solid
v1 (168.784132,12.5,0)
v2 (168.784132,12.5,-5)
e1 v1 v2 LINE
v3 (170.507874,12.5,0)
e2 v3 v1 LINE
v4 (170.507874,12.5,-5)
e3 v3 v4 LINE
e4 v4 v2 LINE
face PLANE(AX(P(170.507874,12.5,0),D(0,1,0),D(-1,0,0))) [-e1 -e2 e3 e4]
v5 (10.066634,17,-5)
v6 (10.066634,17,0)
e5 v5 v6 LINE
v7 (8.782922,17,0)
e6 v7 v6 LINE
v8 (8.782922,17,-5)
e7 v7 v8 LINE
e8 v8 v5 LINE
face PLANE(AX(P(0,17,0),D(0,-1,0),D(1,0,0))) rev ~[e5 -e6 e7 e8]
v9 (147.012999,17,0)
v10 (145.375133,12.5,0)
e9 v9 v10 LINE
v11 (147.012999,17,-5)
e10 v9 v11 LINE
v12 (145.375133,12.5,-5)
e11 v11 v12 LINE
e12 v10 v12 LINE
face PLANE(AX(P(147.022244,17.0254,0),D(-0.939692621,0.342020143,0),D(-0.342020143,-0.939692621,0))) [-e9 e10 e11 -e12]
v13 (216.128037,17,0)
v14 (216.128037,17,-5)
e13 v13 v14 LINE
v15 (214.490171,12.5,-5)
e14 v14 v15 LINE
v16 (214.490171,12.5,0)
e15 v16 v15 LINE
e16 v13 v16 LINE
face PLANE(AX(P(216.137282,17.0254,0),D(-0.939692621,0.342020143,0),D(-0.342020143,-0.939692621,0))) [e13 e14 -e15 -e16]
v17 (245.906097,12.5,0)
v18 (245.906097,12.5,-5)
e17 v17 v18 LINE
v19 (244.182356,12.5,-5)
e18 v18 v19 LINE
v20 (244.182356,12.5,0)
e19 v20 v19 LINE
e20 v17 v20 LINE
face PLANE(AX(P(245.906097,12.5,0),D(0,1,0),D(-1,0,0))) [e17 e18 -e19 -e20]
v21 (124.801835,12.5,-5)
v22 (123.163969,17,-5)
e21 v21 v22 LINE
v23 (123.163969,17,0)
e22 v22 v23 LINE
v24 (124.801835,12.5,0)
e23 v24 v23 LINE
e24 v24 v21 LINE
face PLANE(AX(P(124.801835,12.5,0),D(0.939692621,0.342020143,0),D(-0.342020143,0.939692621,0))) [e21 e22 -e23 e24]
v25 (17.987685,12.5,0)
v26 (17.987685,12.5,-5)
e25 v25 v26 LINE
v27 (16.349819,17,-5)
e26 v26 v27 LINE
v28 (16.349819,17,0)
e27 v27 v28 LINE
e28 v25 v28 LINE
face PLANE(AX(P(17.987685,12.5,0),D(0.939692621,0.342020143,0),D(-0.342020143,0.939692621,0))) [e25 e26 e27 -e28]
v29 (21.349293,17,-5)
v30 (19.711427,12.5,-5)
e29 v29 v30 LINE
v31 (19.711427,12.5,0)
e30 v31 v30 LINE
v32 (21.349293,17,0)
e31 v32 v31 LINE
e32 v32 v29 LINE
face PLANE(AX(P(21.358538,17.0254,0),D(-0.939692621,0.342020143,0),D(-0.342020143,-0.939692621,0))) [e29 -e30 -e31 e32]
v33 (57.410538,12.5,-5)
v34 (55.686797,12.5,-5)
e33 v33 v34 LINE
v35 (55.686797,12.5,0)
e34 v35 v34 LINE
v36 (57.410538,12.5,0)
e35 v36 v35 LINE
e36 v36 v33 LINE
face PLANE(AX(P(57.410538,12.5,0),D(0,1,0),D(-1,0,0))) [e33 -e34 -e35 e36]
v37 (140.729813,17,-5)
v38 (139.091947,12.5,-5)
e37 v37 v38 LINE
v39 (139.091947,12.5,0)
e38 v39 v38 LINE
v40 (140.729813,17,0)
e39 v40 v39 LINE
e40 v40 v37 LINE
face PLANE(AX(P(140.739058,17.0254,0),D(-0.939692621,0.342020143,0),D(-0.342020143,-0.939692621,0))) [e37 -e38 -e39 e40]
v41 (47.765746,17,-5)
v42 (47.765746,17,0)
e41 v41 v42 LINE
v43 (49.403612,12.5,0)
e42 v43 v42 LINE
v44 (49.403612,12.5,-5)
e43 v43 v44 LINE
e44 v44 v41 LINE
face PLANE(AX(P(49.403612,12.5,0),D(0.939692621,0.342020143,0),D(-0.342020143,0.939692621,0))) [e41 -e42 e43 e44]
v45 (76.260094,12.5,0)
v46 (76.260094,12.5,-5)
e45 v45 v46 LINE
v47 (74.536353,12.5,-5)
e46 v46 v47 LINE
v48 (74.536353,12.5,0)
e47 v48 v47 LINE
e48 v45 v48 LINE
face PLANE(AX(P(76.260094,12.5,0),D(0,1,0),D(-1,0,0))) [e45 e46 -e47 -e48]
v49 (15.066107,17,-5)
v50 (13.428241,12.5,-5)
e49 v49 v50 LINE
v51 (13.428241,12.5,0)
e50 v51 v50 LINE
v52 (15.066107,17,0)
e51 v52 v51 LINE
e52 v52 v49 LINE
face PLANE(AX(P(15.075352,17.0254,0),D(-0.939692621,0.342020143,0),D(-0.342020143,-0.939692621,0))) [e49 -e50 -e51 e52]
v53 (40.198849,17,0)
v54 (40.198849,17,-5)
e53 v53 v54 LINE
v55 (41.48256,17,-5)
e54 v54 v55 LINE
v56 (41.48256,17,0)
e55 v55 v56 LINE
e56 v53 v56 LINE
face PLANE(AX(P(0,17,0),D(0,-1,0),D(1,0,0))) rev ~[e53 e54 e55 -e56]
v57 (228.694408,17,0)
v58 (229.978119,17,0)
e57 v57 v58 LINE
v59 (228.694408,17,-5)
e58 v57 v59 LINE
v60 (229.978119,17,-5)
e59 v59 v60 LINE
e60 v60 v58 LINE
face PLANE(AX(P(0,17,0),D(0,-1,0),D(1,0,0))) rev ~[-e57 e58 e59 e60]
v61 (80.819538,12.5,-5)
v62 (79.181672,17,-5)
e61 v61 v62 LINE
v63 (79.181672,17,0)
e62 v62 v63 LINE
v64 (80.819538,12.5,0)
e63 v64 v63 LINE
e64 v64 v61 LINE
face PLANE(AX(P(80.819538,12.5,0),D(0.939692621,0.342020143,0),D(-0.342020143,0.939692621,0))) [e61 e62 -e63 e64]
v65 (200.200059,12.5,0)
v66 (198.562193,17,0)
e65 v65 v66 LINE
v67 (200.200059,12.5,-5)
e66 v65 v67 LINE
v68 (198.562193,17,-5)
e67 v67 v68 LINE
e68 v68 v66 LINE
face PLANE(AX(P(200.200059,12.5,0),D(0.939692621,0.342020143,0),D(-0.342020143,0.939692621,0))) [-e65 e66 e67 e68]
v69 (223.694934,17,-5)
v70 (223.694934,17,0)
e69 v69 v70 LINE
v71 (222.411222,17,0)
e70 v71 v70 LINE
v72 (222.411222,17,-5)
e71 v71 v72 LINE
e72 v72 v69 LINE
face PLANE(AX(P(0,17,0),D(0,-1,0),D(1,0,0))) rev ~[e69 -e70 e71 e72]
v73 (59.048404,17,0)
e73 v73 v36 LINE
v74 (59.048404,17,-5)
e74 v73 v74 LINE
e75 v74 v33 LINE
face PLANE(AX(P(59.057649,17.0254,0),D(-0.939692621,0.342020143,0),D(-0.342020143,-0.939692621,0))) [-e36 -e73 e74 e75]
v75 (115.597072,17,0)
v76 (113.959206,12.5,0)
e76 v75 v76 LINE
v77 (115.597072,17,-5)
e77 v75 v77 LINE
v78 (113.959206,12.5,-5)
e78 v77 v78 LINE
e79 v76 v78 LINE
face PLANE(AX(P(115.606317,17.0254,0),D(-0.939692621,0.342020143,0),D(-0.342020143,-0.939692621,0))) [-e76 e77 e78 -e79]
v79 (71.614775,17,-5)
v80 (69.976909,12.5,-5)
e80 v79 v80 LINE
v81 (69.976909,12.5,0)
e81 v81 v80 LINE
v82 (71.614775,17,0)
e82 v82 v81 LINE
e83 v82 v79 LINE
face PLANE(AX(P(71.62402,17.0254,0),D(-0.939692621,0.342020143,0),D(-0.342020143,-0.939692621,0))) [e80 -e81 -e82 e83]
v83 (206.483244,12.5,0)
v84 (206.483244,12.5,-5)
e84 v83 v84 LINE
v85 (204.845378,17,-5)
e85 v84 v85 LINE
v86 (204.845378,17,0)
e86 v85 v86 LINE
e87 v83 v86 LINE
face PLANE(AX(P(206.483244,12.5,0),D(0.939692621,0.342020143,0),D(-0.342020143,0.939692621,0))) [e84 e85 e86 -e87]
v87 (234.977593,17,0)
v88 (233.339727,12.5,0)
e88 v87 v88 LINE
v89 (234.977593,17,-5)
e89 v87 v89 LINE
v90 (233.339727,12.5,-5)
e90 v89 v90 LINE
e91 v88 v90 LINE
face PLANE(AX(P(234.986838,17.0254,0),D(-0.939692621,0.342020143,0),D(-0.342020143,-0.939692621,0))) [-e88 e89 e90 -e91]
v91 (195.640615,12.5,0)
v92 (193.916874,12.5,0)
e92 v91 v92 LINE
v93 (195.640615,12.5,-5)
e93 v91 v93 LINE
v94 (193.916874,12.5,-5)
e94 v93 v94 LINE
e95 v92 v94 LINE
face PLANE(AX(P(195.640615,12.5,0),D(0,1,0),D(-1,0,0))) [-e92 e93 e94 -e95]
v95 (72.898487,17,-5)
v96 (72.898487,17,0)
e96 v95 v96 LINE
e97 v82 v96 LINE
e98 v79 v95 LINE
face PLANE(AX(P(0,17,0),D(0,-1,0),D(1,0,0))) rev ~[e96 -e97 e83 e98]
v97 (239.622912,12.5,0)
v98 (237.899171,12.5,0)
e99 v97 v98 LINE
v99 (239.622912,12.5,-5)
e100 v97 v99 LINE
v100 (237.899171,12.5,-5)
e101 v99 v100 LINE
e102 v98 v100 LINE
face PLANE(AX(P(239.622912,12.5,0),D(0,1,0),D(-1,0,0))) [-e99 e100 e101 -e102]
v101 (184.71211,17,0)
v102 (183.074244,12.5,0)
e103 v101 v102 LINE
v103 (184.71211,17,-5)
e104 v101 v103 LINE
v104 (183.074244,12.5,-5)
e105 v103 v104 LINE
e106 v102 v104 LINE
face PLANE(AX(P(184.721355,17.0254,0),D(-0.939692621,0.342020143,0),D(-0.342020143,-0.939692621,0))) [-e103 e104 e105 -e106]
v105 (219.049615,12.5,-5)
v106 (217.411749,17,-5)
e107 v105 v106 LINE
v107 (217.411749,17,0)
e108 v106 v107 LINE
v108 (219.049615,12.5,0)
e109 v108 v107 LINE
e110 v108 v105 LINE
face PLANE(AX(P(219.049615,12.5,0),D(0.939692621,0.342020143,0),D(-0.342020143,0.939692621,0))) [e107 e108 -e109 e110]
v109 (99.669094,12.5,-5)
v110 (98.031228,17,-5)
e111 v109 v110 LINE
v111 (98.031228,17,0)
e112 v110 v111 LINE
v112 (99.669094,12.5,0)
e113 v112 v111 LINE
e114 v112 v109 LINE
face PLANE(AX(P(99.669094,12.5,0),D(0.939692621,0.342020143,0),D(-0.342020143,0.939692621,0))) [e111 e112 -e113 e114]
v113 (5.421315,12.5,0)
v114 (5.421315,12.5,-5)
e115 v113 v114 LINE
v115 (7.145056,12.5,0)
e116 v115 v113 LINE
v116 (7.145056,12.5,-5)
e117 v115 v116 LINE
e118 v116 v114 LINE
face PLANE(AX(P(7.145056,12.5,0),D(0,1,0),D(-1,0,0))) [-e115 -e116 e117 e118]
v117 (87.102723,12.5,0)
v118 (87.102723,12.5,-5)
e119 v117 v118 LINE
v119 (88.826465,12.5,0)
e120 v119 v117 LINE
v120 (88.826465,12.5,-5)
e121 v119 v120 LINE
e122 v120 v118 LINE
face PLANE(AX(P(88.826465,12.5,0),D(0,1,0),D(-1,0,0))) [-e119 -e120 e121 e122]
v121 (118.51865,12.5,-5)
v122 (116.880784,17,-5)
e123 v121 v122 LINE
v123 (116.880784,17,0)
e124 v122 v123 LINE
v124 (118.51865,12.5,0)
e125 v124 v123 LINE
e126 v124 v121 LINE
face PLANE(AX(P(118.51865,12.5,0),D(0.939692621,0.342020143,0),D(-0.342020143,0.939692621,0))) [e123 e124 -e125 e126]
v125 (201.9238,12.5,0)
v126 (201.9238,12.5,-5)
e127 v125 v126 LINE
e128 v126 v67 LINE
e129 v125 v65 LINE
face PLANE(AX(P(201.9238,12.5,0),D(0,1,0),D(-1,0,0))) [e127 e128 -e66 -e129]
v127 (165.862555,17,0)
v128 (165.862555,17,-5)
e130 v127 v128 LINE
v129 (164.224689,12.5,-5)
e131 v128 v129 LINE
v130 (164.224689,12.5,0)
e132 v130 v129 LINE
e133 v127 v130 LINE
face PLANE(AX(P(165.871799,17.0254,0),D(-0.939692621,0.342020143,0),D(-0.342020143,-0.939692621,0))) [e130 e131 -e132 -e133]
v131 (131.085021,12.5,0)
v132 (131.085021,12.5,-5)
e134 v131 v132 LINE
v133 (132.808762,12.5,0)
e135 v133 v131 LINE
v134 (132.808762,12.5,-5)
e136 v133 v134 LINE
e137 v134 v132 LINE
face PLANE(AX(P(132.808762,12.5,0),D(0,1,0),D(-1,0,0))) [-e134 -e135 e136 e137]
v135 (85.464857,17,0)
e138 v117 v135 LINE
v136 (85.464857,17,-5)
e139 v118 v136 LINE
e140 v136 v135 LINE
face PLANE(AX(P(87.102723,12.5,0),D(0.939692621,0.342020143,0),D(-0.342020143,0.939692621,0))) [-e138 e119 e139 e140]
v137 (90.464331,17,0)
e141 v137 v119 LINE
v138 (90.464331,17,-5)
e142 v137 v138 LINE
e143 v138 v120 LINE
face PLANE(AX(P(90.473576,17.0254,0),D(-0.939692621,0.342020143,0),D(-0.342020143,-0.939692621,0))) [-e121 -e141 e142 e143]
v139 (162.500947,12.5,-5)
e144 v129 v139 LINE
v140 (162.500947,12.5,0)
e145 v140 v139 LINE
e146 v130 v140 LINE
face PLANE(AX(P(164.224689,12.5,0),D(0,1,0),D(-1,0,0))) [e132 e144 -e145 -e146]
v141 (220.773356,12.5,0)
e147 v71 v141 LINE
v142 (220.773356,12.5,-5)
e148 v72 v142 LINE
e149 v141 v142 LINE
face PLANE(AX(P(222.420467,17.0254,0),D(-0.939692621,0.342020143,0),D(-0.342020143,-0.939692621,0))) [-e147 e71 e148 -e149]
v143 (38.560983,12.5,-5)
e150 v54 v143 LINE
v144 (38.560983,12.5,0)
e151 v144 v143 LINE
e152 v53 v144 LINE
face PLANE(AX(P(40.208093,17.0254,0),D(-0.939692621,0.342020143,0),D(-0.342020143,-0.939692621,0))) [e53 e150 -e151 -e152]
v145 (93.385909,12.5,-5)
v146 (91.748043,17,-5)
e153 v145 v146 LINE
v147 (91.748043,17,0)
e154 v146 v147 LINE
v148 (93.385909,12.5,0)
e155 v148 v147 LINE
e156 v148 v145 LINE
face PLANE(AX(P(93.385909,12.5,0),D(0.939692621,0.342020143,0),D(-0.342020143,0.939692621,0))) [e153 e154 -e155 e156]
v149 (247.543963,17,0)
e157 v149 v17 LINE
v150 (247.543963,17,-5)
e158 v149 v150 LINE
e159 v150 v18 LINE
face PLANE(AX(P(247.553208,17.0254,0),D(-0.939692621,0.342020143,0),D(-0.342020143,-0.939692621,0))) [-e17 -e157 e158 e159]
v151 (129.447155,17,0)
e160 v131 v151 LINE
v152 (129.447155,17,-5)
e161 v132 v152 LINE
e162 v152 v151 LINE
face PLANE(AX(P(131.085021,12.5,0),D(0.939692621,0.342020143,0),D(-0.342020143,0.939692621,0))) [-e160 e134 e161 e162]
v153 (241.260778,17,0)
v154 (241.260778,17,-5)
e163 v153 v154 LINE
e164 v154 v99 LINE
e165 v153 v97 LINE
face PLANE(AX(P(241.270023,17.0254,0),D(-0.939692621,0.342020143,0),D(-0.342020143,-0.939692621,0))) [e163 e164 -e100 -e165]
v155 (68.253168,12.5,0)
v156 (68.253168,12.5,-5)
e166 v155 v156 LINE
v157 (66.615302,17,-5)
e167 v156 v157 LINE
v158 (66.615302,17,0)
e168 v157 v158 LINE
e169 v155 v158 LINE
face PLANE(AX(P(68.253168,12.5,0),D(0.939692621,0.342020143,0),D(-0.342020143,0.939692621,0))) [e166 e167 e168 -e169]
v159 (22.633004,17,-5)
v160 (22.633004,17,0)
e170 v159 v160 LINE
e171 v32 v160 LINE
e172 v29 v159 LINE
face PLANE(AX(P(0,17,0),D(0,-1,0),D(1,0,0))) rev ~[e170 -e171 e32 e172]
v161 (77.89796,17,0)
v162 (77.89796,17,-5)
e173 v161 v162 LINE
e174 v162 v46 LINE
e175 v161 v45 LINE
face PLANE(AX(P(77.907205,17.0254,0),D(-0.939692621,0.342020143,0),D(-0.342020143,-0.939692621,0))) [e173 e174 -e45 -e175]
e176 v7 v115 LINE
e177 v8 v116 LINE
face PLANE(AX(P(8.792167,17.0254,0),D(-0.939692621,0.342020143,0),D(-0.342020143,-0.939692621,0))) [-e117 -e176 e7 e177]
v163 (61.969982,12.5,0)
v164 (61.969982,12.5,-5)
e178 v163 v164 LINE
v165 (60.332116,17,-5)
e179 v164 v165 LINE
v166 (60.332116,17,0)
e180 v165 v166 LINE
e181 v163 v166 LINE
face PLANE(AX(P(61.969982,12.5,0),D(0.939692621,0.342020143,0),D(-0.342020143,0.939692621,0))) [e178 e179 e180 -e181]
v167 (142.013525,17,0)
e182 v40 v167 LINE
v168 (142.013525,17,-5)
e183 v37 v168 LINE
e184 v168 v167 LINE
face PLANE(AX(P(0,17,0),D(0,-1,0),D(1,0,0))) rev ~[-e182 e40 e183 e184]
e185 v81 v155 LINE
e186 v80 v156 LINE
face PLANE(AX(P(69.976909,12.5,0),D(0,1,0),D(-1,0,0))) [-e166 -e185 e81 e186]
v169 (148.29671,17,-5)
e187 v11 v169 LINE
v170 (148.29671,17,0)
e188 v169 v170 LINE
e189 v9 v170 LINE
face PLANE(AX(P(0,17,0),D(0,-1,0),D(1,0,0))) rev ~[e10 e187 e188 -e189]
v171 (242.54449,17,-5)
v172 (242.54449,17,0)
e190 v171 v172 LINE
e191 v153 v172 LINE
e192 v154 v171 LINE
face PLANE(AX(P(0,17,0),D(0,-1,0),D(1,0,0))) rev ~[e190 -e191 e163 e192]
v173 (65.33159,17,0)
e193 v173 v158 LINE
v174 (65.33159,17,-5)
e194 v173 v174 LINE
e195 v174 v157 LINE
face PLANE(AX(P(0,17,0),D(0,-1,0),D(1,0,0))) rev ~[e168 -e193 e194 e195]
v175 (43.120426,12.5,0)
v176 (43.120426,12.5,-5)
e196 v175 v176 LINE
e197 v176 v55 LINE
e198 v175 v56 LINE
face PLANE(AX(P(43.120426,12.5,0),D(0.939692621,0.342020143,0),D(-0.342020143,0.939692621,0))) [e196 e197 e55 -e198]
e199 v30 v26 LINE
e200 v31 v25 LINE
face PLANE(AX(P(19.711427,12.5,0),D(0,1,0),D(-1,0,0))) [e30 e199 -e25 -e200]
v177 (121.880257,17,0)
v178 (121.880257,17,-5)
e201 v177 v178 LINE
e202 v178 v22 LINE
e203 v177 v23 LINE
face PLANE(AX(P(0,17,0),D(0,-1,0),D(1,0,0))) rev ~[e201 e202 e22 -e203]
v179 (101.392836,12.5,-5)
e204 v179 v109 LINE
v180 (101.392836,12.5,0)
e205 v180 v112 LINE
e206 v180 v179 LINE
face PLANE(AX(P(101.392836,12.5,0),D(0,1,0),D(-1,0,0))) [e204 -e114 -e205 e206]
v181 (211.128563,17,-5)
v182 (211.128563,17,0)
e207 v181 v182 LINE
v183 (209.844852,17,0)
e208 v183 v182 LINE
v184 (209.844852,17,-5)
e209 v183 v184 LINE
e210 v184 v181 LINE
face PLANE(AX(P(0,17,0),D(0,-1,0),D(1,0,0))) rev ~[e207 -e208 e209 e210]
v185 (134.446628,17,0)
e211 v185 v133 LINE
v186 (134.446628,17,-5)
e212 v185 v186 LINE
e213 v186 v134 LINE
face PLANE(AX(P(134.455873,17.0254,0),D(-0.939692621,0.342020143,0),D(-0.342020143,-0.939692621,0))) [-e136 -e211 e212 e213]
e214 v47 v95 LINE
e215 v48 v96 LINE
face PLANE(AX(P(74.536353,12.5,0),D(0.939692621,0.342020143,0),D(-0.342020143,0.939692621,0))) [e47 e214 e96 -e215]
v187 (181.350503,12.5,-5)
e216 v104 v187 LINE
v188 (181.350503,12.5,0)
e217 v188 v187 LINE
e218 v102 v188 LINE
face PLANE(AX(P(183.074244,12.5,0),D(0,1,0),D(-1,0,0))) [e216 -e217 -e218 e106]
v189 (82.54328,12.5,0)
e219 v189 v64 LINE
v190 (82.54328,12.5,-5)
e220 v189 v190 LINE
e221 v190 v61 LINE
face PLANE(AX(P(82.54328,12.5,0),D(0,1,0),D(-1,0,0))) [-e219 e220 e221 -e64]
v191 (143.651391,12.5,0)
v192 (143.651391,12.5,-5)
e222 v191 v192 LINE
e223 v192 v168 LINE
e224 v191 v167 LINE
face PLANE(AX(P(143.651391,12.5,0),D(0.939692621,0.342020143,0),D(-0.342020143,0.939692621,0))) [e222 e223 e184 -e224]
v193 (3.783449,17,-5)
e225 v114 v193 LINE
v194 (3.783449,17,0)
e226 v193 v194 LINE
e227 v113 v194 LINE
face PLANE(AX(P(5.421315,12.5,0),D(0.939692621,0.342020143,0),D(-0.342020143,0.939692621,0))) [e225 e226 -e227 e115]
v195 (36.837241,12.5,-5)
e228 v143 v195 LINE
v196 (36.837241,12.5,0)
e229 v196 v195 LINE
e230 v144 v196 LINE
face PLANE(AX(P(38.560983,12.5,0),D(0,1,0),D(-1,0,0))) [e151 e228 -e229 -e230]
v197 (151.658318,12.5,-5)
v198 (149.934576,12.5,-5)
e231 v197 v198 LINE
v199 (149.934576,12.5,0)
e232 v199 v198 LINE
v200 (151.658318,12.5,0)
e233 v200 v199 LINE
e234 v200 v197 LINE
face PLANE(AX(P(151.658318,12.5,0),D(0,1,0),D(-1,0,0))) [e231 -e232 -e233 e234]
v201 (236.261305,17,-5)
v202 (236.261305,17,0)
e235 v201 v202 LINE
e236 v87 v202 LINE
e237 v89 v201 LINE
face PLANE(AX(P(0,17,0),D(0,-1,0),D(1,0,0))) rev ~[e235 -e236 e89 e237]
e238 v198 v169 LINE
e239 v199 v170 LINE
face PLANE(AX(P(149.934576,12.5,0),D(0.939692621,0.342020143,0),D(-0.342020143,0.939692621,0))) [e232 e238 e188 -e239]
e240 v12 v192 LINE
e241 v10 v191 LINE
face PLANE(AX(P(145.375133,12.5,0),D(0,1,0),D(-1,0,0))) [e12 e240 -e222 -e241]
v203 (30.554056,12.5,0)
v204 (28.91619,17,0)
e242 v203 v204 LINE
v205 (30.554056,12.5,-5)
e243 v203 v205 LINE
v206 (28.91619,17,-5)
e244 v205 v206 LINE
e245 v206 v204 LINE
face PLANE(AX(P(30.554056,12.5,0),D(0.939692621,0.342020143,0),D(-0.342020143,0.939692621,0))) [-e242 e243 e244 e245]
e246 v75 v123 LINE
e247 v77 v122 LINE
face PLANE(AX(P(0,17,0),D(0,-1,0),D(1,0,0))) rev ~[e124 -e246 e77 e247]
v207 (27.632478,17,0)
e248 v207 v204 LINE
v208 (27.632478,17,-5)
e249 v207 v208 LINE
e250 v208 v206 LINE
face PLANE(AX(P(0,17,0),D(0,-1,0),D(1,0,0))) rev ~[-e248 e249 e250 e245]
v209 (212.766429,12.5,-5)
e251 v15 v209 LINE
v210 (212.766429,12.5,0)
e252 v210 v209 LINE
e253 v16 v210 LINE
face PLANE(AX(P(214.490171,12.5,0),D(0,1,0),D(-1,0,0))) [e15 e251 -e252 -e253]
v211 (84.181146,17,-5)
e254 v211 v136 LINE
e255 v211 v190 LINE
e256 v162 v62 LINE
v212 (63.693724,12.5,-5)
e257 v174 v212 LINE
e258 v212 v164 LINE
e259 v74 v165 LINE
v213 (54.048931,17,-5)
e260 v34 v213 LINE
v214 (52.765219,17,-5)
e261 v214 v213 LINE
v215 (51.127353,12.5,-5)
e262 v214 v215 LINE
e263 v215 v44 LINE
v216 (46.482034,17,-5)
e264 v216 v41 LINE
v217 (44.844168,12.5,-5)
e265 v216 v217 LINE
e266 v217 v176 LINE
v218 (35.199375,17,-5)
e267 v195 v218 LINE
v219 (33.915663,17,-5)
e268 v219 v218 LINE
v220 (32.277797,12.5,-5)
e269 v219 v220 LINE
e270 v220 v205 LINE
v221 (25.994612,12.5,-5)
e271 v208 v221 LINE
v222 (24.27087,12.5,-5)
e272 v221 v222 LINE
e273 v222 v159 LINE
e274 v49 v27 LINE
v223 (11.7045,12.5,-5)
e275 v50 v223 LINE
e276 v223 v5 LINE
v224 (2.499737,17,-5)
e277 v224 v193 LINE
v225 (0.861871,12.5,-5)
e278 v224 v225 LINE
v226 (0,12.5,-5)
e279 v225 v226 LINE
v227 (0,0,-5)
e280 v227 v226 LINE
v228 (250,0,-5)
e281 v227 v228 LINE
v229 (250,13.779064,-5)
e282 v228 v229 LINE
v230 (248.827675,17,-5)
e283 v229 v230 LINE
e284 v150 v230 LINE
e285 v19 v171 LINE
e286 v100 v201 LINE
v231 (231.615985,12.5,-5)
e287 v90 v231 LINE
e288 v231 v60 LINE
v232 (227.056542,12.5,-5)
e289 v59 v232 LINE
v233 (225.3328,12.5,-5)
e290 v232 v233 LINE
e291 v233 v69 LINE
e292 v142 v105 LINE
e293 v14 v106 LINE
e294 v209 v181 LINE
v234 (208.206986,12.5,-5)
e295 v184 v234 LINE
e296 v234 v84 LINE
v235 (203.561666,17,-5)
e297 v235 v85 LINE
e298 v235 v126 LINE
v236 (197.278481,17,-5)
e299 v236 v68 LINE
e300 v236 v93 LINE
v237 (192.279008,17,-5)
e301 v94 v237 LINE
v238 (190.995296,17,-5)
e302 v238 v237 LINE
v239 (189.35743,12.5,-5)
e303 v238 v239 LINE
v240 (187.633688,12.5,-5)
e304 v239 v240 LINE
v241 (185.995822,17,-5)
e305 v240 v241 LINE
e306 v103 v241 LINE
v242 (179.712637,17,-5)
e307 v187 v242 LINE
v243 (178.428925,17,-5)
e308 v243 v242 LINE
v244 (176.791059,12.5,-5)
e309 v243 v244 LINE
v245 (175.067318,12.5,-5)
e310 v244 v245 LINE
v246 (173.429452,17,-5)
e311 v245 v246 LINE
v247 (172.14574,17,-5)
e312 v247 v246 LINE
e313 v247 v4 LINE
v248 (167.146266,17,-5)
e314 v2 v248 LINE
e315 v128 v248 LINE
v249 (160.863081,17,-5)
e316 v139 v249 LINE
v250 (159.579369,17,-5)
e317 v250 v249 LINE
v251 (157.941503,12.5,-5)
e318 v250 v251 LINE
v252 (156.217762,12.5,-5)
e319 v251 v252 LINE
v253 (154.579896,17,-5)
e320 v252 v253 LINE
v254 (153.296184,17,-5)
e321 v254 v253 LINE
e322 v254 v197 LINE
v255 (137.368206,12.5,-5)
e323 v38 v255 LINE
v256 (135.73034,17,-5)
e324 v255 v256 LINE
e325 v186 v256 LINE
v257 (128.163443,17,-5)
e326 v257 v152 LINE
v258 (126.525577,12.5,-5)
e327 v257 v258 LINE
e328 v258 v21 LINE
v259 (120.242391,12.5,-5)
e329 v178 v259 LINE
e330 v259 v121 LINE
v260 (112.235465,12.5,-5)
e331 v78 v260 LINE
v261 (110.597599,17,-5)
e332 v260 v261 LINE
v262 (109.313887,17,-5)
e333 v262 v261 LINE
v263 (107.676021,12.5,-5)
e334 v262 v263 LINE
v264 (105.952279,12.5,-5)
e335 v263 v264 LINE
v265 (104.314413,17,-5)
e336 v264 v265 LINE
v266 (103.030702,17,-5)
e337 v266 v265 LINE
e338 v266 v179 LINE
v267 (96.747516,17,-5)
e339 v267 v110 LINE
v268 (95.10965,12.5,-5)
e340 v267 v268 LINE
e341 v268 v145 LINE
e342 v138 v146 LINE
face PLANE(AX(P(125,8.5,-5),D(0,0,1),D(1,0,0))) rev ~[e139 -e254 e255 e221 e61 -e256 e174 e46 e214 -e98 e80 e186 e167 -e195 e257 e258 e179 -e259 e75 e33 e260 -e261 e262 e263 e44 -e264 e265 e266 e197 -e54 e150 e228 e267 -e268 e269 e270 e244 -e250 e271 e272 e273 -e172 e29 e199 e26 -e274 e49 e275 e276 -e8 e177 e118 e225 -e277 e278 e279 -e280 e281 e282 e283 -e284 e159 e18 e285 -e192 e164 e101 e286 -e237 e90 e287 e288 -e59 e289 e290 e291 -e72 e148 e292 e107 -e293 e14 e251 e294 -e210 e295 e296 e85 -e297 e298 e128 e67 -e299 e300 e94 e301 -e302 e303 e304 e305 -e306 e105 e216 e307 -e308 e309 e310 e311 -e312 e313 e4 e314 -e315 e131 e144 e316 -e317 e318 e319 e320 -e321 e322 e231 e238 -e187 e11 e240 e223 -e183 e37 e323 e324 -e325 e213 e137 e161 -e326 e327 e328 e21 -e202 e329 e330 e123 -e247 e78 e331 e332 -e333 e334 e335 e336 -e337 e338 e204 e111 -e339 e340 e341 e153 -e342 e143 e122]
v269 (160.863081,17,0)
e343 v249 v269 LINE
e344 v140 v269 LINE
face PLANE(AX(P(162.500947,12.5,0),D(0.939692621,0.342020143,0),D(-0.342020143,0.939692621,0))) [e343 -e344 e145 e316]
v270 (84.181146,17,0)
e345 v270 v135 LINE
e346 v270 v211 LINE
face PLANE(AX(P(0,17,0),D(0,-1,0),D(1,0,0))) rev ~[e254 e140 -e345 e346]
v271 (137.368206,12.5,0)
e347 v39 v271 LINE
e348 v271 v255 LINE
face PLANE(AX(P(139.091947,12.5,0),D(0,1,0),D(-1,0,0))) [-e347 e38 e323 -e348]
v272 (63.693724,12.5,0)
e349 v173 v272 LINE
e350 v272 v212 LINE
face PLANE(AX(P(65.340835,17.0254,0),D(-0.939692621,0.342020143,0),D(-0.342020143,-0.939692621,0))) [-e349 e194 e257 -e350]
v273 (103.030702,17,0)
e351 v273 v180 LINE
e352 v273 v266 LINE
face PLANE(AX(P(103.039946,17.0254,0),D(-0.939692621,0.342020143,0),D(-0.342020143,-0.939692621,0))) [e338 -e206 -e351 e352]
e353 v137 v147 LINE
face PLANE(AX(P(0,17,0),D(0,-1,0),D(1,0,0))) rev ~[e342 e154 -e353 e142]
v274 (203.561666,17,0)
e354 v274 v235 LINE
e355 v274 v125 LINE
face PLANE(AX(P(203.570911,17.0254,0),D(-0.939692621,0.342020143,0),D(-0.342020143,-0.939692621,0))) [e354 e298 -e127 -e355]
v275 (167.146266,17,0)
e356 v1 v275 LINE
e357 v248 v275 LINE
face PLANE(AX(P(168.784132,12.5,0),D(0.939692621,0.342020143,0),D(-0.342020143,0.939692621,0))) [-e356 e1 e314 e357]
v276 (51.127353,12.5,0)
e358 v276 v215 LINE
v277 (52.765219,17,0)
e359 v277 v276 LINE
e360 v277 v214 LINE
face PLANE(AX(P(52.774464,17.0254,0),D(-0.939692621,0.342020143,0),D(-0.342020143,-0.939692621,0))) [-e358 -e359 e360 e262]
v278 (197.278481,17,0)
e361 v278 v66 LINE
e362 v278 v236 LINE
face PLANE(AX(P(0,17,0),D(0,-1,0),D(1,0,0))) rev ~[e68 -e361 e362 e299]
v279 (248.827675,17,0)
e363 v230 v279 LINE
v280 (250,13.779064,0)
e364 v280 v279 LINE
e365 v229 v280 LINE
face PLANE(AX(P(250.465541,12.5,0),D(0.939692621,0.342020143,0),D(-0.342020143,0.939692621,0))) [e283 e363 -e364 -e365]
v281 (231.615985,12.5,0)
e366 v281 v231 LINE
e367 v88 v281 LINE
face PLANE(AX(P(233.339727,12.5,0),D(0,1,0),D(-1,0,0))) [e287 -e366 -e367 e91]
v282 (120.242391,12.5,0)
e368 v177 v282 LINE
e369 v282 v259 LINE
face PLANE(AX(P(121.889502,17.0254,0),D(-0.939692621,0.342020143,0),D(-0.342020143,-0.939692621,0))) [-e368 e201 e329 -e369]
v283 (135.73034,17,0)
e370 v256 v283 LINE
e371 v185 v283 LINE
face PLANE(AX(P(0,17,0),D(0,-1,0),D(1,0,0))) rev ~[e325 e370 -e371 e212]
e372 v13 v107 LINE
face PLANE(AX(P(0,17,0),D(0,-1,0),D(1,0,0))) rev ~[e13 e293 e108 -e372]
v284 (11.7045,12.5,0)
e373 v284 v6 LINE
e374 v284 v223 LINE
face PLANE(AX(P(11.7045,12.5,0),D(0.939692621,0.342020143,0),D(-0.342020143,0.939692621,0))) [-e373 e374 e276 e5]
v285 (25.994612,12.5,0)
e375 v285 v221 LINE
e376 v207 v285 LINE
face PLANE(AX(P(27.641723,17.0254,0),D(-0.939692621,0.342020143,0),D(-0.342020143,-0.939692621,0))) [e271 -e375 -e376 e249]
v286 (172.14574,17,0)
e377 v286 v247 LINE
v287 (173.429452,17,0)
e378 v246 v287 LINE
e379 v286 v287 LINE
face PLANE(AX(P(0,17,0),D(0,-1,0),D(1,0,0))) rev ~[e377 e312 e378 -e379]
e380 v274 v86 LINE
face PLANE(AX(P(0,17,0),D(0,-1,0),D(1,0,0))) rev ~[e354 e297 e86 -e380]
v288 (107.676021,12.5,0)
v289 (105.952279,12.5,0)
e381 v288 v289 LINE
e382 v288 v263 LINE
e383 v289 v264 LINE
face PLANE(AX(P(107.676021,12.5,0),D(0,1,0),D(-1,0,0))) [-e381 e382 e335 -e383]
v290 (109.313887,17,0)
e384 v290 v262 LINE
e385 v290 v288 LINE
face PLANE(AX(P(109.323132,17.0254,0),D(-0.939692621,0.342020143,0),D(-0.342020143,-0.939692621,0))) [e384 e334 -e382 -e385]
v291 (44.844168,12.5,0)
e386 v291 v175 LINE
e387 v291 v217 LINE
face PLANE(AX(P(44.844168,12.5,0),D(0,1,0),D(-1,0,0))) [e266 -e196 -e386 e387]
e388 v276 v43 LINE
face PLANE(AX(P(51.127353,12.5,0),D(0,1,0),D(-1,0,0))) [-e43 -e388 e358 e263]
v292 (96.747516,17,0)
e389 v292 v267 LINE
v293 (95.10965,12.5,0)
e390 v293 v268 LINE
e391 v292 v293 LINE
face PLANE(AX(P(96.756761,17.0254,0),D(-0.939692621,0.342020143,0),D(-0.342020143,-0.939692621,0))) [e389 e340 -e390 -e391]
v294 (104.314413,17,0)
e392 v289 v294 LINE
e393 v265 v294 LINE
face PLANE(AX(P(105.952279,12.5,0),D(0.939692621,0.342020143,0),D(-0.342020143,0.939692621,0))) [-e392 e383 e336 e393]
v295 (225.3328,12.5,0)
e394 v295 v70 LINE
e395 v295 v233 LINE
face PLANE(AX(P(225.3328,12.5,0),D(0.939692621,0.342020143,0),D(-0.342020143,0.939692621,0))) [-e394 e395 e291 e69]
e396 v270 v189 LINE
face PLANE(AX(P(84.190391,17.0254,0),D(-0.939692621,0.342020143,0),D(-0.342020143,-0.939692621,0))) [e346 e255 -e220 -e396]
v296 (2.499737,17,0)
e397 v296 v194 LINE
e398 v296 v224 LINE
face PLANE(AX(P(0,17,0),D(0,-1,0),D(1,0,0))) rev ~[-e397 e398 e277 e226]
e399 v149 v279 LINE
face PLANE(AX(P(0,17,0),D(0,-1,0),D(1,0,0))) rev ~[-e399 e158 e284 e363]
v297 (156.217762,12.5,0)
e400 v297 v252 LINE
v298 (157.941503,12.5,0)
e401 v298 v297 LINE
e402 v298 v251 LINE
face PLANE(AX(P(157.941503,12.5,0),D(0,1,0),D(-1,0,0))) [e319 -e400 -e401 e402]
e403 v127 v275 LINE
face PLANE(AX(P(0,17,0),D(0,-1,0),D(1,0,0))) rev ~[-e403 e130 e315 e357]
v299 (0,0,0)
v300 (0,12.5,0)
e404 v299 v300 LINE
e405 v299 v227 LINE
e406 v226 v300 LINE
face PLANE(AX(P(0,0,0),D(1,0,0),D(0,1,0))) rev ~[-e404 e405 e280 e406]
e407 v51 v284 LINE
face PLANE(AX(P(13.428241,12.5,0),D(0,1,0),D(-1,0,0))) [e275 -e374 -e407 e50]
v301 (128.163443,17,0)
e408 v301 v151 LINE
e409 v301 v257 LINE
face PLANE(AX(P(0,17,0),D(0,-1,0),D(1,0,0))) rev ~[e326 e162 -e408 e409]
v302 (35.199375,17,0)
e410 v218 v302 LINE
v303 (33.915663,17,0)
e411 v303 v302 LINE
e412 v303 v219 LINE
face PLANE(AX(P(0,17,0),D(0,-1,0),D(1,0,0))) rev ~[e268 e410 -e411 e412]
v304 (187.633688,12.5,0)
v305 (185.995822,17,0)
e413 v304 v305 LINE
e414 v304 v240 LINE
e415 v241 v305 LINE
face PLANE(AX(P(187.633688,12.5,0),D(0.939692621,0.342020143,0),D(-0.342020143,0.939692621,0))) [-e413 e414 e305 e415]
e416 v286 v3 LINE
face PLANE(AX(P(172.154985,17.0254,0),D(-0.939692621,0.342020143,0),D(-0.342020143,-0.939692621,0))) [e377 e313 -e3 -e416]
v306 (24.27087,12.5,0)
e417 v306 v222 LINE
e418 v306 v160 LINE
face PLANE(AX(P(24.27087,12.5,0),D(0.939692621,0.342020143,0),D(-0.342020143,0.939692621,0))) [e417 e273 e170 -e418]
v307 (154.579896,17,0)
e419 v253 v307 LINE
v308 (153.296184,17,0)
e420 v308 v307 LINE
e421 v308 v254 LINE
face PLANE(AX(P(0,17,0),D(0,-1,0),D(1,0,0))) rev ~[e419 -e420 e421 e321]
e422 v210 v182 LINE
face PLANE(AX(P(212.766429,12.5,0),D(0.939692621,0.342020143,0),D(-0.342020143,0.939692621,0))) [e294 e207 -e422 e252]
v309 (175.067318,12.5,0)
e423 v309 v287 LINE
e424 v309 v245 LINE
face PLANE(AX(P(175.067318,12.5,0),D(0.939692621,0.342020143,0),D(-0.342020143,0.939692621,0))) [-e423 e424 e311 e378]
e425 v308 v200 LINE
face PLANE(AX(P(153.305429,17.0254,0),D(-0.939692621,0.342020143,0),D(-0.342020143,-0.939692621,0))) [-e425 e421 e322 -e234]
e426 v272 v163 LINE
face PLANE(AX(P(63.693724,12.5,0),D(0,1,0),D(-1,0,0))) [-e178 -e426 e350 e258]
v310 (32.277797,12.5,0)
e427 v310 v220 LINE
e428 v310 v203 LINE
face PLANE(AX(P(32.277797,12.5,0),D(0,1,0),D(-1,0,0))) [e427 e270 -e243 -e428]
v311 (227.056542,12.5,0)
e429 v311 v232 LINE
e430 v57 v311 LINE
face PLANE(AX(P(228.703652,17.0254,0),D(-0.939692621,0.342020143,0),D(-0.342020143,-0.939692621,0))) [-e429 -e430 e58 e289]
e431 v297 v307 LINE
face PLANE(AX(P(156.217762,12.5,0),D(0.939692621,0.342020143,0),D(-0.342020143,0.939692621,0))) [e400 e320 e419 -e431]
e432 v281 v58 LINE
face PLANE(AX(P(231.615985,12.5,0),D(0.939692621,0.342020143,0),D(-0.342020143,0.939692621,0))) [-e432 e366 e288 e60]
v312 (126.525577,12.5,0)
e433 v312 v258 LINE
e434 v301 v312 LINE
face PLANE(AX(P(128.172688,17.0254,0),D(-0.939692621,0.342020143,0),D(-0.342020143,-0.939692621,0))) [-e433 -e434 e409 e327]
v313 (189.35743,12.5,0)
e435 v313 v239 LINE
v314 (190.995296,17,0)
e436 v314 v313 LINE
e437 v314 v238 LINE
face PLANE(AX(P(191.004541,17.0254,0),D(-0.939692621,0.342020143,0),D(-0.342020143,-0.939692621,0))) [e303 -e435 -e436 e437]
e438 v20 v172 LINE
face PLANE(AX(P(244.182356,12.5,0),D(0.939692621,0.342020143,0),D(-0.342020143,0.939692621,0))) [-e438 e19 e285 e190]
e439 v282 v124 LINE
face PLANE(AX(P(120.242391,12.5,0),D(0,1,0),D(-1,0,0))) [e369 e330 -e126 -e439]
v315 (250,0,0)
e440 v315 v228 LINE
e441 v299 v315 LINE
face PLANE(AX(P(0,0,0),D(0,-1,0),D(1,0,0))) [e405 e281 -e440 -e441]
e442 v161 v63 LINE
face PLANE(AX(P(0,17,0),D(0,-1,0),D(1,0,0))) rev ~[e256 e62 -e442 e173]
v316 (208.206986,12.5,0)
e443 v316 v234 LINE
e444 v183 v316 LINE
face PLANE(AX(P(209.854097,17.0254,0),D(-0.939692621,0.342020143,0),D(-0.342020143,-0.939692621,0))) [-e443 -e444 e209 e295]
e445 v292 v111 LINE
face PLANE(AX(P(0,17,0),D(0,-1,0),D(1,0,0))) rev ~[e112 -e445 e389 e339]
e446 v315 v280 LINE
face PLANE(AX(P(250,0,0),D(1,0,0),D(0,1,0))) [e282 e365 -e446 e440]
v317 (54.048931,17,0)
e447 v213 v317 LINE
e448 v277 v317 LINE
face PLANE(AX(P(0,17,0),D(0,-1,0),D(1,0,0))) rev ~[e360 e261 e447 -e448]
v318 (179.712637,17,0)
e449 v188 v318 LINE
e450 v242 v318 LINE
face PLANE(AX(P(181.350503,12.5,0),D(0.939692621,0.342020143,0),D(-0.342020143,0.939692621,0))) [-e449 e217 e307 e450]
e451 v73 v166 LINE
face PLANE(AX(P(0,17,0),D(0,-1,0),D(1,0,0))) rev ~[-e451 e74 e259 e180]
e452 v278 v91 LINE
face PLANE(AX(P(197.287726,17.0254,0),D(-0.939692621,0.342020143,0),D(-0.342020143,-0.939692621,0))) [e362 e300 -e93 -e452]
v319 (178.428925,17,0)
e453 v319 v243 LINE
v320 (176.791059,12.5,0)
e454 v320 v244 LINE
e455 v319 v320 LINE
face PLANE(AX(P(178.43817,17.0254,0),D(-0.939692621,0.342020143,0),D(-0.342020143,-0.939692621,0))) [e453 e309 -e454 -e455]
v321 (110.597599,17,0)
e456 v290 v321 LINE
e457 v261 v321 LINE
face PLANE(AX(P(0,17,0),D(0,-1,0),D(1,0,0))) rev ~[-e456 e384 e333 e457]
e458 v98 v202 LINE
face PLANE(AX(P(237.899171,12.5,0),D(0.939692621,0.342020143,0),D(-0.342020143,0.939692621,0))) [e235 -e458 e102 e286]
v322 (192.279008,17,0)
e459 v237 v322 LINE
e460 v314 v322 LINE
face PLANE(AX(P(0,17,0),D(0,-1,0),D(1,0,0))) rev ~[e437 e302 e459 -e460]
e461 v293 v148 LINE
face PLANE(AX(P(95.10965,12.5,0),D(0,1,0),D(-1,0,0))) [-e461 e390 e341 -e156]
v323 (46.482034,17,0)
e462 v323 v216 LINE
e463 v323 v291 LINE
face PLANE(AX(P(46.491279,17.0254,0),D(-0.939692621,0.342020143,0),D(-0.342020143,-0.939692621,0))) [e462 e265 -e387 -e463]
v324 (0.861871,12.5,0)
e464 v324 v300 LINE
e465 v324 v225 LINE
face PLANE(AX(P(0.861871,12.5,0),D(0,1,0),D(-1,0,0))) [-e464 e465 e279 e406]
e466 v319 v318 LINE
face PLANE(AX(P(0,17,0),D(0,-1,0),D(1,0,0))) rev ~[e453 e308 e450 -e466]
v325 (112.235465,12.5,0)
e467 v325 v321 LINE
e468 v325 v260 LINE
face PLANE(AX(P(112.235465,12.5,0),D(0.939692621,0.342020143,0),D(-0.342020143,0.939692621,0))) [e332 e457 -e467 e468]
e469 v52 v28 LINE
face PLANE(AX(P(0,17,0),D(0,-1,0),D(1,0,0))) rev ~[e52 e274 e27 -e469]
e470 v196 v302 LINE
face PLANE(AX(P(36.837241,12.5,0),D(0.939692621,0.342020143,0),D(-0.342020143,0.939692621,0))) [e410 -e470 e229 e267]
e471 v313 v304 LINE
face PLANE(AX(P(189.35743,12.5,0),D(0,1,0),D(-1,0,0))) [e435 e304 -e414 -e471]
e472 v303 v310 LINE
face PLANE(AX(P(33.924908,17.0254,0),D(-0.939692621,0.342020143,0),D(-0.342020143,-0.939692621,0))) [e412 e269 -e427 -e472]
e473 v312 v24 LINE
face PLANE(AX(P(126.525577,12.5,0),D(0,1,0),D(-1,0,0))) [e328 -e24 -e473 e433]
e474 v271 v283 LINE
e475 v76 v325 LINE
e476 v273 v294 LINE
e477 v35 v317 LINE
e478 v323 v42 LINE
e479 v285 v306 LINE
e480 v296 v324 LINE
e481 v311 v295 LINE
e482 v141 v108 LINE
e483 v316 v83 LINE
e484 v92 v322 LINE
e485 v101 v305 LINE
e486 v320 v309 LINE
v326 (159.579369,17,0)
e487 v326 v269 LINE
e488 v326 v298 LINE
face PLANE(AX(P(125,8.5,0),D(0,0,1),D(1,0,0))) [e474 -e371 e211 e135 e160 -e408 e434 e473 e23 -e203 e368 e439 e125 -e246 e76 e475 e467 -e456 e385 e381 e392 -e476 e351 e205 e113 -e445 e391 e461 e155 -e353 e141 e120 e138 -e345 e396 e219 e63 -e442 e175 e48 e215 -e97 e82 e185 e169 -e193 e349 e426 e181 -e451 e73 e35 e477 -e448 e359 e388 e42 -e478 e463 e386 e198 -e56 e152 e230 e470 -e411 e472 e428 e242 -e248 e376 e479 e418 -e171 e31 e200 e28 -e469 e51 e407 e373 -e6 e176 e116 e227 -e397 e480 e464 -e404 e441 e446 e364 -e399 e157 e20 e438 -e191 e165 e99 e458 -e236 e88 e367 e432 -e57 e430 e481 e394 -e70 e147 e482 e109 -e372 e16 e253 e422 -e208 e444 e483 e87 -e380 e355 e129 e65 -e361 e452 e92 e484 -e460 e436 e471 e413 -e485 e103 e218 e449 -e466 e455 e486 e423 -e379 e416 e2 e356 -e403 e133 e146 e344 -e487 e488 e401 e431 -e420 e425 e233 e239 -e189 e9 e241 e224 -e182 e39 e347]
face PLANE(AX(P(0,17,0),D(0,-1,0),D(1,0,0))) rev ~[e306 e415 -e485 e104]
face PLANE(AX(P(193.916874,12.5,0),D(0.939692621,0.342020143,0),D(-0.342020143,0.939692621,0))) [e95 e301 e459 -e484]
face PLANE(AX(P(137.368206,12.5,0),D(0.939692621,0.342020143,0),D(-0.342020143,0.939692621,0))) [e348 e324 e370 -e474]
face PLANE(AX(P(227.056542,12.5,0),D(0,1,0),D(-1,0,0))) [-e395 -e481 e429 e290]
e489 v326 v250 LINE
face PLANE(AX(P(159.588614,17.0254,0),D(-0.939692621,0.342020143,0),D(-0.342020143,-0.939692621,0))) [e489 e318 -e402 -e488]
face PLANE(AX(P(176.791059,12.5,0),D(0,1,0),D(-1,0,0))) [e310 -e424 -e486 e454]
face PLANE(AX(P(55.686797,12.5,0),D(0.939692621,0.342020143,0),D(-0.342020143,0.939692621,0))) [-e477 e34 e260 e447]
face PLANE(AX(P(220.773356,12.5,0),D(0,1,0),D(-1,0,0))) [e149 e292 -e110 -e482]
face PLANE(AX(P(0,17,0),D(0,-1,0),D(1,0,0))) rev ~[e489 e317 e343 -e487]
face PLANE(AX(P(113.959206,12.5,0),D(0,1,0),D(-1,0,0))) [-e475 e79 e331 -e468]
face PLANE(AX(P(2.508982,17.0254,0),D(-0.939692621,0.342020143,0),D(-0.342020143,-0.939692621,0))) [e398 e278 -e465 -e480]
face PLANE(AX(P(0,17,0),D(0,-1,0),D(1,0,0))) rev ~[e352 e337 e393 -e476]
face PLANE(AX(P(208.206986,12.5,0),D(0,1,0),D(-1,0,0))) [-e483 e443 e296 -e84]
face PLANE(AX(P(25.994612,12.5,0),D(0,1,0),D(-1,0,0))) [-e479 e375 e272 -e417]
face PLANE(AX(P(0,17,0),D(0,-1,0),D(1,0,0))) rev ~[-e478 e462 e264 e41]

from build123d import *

# Parameters (mm, degrees)
BLANKSKE_W        = 250
BLANKSKE_H        = 17
BLANK_DEPTH       = 5
TOOTHCUTSIM_DEPTH = 251.627213207
TEETHCUTS_COUNT   = 41
TEETHCUTS_PITCH   = 6.2831853


with BuildPart() as part:
    # BlankSke → Blank (new body)
    with BuildSketch(Plane.XY):
        with Locations((125, 8.5)):
            Rectangle(BLANKSKE_W, BLANKSKE_H)
    extrude(amount=-BLANK_DEPTH)

    # TooCutSkeSim → ToothCutSim (cut, through all)
    with BuildSketch(Plane.XY):
        Polygon((0.861870739, 12.5), (-0.861870739, 12.5), (-2.508981637, 17.0254), (2.508981637, 17.0254), align=None)
    toothcutsim = extrude(amount=-TOOTHCUTSIM_DEPTH, mode=Mode.SUBTRACT)

    # TeethCuts: ToothCutSim ×41
    with Locations(*[(i * TEETHCUTS_PITCH, 0, 0) for i in range(1, TEETHCUTS_COUNT)]):
        add(toothcutsim, mode=Mode.SUBTRACT)


solid = part.part
